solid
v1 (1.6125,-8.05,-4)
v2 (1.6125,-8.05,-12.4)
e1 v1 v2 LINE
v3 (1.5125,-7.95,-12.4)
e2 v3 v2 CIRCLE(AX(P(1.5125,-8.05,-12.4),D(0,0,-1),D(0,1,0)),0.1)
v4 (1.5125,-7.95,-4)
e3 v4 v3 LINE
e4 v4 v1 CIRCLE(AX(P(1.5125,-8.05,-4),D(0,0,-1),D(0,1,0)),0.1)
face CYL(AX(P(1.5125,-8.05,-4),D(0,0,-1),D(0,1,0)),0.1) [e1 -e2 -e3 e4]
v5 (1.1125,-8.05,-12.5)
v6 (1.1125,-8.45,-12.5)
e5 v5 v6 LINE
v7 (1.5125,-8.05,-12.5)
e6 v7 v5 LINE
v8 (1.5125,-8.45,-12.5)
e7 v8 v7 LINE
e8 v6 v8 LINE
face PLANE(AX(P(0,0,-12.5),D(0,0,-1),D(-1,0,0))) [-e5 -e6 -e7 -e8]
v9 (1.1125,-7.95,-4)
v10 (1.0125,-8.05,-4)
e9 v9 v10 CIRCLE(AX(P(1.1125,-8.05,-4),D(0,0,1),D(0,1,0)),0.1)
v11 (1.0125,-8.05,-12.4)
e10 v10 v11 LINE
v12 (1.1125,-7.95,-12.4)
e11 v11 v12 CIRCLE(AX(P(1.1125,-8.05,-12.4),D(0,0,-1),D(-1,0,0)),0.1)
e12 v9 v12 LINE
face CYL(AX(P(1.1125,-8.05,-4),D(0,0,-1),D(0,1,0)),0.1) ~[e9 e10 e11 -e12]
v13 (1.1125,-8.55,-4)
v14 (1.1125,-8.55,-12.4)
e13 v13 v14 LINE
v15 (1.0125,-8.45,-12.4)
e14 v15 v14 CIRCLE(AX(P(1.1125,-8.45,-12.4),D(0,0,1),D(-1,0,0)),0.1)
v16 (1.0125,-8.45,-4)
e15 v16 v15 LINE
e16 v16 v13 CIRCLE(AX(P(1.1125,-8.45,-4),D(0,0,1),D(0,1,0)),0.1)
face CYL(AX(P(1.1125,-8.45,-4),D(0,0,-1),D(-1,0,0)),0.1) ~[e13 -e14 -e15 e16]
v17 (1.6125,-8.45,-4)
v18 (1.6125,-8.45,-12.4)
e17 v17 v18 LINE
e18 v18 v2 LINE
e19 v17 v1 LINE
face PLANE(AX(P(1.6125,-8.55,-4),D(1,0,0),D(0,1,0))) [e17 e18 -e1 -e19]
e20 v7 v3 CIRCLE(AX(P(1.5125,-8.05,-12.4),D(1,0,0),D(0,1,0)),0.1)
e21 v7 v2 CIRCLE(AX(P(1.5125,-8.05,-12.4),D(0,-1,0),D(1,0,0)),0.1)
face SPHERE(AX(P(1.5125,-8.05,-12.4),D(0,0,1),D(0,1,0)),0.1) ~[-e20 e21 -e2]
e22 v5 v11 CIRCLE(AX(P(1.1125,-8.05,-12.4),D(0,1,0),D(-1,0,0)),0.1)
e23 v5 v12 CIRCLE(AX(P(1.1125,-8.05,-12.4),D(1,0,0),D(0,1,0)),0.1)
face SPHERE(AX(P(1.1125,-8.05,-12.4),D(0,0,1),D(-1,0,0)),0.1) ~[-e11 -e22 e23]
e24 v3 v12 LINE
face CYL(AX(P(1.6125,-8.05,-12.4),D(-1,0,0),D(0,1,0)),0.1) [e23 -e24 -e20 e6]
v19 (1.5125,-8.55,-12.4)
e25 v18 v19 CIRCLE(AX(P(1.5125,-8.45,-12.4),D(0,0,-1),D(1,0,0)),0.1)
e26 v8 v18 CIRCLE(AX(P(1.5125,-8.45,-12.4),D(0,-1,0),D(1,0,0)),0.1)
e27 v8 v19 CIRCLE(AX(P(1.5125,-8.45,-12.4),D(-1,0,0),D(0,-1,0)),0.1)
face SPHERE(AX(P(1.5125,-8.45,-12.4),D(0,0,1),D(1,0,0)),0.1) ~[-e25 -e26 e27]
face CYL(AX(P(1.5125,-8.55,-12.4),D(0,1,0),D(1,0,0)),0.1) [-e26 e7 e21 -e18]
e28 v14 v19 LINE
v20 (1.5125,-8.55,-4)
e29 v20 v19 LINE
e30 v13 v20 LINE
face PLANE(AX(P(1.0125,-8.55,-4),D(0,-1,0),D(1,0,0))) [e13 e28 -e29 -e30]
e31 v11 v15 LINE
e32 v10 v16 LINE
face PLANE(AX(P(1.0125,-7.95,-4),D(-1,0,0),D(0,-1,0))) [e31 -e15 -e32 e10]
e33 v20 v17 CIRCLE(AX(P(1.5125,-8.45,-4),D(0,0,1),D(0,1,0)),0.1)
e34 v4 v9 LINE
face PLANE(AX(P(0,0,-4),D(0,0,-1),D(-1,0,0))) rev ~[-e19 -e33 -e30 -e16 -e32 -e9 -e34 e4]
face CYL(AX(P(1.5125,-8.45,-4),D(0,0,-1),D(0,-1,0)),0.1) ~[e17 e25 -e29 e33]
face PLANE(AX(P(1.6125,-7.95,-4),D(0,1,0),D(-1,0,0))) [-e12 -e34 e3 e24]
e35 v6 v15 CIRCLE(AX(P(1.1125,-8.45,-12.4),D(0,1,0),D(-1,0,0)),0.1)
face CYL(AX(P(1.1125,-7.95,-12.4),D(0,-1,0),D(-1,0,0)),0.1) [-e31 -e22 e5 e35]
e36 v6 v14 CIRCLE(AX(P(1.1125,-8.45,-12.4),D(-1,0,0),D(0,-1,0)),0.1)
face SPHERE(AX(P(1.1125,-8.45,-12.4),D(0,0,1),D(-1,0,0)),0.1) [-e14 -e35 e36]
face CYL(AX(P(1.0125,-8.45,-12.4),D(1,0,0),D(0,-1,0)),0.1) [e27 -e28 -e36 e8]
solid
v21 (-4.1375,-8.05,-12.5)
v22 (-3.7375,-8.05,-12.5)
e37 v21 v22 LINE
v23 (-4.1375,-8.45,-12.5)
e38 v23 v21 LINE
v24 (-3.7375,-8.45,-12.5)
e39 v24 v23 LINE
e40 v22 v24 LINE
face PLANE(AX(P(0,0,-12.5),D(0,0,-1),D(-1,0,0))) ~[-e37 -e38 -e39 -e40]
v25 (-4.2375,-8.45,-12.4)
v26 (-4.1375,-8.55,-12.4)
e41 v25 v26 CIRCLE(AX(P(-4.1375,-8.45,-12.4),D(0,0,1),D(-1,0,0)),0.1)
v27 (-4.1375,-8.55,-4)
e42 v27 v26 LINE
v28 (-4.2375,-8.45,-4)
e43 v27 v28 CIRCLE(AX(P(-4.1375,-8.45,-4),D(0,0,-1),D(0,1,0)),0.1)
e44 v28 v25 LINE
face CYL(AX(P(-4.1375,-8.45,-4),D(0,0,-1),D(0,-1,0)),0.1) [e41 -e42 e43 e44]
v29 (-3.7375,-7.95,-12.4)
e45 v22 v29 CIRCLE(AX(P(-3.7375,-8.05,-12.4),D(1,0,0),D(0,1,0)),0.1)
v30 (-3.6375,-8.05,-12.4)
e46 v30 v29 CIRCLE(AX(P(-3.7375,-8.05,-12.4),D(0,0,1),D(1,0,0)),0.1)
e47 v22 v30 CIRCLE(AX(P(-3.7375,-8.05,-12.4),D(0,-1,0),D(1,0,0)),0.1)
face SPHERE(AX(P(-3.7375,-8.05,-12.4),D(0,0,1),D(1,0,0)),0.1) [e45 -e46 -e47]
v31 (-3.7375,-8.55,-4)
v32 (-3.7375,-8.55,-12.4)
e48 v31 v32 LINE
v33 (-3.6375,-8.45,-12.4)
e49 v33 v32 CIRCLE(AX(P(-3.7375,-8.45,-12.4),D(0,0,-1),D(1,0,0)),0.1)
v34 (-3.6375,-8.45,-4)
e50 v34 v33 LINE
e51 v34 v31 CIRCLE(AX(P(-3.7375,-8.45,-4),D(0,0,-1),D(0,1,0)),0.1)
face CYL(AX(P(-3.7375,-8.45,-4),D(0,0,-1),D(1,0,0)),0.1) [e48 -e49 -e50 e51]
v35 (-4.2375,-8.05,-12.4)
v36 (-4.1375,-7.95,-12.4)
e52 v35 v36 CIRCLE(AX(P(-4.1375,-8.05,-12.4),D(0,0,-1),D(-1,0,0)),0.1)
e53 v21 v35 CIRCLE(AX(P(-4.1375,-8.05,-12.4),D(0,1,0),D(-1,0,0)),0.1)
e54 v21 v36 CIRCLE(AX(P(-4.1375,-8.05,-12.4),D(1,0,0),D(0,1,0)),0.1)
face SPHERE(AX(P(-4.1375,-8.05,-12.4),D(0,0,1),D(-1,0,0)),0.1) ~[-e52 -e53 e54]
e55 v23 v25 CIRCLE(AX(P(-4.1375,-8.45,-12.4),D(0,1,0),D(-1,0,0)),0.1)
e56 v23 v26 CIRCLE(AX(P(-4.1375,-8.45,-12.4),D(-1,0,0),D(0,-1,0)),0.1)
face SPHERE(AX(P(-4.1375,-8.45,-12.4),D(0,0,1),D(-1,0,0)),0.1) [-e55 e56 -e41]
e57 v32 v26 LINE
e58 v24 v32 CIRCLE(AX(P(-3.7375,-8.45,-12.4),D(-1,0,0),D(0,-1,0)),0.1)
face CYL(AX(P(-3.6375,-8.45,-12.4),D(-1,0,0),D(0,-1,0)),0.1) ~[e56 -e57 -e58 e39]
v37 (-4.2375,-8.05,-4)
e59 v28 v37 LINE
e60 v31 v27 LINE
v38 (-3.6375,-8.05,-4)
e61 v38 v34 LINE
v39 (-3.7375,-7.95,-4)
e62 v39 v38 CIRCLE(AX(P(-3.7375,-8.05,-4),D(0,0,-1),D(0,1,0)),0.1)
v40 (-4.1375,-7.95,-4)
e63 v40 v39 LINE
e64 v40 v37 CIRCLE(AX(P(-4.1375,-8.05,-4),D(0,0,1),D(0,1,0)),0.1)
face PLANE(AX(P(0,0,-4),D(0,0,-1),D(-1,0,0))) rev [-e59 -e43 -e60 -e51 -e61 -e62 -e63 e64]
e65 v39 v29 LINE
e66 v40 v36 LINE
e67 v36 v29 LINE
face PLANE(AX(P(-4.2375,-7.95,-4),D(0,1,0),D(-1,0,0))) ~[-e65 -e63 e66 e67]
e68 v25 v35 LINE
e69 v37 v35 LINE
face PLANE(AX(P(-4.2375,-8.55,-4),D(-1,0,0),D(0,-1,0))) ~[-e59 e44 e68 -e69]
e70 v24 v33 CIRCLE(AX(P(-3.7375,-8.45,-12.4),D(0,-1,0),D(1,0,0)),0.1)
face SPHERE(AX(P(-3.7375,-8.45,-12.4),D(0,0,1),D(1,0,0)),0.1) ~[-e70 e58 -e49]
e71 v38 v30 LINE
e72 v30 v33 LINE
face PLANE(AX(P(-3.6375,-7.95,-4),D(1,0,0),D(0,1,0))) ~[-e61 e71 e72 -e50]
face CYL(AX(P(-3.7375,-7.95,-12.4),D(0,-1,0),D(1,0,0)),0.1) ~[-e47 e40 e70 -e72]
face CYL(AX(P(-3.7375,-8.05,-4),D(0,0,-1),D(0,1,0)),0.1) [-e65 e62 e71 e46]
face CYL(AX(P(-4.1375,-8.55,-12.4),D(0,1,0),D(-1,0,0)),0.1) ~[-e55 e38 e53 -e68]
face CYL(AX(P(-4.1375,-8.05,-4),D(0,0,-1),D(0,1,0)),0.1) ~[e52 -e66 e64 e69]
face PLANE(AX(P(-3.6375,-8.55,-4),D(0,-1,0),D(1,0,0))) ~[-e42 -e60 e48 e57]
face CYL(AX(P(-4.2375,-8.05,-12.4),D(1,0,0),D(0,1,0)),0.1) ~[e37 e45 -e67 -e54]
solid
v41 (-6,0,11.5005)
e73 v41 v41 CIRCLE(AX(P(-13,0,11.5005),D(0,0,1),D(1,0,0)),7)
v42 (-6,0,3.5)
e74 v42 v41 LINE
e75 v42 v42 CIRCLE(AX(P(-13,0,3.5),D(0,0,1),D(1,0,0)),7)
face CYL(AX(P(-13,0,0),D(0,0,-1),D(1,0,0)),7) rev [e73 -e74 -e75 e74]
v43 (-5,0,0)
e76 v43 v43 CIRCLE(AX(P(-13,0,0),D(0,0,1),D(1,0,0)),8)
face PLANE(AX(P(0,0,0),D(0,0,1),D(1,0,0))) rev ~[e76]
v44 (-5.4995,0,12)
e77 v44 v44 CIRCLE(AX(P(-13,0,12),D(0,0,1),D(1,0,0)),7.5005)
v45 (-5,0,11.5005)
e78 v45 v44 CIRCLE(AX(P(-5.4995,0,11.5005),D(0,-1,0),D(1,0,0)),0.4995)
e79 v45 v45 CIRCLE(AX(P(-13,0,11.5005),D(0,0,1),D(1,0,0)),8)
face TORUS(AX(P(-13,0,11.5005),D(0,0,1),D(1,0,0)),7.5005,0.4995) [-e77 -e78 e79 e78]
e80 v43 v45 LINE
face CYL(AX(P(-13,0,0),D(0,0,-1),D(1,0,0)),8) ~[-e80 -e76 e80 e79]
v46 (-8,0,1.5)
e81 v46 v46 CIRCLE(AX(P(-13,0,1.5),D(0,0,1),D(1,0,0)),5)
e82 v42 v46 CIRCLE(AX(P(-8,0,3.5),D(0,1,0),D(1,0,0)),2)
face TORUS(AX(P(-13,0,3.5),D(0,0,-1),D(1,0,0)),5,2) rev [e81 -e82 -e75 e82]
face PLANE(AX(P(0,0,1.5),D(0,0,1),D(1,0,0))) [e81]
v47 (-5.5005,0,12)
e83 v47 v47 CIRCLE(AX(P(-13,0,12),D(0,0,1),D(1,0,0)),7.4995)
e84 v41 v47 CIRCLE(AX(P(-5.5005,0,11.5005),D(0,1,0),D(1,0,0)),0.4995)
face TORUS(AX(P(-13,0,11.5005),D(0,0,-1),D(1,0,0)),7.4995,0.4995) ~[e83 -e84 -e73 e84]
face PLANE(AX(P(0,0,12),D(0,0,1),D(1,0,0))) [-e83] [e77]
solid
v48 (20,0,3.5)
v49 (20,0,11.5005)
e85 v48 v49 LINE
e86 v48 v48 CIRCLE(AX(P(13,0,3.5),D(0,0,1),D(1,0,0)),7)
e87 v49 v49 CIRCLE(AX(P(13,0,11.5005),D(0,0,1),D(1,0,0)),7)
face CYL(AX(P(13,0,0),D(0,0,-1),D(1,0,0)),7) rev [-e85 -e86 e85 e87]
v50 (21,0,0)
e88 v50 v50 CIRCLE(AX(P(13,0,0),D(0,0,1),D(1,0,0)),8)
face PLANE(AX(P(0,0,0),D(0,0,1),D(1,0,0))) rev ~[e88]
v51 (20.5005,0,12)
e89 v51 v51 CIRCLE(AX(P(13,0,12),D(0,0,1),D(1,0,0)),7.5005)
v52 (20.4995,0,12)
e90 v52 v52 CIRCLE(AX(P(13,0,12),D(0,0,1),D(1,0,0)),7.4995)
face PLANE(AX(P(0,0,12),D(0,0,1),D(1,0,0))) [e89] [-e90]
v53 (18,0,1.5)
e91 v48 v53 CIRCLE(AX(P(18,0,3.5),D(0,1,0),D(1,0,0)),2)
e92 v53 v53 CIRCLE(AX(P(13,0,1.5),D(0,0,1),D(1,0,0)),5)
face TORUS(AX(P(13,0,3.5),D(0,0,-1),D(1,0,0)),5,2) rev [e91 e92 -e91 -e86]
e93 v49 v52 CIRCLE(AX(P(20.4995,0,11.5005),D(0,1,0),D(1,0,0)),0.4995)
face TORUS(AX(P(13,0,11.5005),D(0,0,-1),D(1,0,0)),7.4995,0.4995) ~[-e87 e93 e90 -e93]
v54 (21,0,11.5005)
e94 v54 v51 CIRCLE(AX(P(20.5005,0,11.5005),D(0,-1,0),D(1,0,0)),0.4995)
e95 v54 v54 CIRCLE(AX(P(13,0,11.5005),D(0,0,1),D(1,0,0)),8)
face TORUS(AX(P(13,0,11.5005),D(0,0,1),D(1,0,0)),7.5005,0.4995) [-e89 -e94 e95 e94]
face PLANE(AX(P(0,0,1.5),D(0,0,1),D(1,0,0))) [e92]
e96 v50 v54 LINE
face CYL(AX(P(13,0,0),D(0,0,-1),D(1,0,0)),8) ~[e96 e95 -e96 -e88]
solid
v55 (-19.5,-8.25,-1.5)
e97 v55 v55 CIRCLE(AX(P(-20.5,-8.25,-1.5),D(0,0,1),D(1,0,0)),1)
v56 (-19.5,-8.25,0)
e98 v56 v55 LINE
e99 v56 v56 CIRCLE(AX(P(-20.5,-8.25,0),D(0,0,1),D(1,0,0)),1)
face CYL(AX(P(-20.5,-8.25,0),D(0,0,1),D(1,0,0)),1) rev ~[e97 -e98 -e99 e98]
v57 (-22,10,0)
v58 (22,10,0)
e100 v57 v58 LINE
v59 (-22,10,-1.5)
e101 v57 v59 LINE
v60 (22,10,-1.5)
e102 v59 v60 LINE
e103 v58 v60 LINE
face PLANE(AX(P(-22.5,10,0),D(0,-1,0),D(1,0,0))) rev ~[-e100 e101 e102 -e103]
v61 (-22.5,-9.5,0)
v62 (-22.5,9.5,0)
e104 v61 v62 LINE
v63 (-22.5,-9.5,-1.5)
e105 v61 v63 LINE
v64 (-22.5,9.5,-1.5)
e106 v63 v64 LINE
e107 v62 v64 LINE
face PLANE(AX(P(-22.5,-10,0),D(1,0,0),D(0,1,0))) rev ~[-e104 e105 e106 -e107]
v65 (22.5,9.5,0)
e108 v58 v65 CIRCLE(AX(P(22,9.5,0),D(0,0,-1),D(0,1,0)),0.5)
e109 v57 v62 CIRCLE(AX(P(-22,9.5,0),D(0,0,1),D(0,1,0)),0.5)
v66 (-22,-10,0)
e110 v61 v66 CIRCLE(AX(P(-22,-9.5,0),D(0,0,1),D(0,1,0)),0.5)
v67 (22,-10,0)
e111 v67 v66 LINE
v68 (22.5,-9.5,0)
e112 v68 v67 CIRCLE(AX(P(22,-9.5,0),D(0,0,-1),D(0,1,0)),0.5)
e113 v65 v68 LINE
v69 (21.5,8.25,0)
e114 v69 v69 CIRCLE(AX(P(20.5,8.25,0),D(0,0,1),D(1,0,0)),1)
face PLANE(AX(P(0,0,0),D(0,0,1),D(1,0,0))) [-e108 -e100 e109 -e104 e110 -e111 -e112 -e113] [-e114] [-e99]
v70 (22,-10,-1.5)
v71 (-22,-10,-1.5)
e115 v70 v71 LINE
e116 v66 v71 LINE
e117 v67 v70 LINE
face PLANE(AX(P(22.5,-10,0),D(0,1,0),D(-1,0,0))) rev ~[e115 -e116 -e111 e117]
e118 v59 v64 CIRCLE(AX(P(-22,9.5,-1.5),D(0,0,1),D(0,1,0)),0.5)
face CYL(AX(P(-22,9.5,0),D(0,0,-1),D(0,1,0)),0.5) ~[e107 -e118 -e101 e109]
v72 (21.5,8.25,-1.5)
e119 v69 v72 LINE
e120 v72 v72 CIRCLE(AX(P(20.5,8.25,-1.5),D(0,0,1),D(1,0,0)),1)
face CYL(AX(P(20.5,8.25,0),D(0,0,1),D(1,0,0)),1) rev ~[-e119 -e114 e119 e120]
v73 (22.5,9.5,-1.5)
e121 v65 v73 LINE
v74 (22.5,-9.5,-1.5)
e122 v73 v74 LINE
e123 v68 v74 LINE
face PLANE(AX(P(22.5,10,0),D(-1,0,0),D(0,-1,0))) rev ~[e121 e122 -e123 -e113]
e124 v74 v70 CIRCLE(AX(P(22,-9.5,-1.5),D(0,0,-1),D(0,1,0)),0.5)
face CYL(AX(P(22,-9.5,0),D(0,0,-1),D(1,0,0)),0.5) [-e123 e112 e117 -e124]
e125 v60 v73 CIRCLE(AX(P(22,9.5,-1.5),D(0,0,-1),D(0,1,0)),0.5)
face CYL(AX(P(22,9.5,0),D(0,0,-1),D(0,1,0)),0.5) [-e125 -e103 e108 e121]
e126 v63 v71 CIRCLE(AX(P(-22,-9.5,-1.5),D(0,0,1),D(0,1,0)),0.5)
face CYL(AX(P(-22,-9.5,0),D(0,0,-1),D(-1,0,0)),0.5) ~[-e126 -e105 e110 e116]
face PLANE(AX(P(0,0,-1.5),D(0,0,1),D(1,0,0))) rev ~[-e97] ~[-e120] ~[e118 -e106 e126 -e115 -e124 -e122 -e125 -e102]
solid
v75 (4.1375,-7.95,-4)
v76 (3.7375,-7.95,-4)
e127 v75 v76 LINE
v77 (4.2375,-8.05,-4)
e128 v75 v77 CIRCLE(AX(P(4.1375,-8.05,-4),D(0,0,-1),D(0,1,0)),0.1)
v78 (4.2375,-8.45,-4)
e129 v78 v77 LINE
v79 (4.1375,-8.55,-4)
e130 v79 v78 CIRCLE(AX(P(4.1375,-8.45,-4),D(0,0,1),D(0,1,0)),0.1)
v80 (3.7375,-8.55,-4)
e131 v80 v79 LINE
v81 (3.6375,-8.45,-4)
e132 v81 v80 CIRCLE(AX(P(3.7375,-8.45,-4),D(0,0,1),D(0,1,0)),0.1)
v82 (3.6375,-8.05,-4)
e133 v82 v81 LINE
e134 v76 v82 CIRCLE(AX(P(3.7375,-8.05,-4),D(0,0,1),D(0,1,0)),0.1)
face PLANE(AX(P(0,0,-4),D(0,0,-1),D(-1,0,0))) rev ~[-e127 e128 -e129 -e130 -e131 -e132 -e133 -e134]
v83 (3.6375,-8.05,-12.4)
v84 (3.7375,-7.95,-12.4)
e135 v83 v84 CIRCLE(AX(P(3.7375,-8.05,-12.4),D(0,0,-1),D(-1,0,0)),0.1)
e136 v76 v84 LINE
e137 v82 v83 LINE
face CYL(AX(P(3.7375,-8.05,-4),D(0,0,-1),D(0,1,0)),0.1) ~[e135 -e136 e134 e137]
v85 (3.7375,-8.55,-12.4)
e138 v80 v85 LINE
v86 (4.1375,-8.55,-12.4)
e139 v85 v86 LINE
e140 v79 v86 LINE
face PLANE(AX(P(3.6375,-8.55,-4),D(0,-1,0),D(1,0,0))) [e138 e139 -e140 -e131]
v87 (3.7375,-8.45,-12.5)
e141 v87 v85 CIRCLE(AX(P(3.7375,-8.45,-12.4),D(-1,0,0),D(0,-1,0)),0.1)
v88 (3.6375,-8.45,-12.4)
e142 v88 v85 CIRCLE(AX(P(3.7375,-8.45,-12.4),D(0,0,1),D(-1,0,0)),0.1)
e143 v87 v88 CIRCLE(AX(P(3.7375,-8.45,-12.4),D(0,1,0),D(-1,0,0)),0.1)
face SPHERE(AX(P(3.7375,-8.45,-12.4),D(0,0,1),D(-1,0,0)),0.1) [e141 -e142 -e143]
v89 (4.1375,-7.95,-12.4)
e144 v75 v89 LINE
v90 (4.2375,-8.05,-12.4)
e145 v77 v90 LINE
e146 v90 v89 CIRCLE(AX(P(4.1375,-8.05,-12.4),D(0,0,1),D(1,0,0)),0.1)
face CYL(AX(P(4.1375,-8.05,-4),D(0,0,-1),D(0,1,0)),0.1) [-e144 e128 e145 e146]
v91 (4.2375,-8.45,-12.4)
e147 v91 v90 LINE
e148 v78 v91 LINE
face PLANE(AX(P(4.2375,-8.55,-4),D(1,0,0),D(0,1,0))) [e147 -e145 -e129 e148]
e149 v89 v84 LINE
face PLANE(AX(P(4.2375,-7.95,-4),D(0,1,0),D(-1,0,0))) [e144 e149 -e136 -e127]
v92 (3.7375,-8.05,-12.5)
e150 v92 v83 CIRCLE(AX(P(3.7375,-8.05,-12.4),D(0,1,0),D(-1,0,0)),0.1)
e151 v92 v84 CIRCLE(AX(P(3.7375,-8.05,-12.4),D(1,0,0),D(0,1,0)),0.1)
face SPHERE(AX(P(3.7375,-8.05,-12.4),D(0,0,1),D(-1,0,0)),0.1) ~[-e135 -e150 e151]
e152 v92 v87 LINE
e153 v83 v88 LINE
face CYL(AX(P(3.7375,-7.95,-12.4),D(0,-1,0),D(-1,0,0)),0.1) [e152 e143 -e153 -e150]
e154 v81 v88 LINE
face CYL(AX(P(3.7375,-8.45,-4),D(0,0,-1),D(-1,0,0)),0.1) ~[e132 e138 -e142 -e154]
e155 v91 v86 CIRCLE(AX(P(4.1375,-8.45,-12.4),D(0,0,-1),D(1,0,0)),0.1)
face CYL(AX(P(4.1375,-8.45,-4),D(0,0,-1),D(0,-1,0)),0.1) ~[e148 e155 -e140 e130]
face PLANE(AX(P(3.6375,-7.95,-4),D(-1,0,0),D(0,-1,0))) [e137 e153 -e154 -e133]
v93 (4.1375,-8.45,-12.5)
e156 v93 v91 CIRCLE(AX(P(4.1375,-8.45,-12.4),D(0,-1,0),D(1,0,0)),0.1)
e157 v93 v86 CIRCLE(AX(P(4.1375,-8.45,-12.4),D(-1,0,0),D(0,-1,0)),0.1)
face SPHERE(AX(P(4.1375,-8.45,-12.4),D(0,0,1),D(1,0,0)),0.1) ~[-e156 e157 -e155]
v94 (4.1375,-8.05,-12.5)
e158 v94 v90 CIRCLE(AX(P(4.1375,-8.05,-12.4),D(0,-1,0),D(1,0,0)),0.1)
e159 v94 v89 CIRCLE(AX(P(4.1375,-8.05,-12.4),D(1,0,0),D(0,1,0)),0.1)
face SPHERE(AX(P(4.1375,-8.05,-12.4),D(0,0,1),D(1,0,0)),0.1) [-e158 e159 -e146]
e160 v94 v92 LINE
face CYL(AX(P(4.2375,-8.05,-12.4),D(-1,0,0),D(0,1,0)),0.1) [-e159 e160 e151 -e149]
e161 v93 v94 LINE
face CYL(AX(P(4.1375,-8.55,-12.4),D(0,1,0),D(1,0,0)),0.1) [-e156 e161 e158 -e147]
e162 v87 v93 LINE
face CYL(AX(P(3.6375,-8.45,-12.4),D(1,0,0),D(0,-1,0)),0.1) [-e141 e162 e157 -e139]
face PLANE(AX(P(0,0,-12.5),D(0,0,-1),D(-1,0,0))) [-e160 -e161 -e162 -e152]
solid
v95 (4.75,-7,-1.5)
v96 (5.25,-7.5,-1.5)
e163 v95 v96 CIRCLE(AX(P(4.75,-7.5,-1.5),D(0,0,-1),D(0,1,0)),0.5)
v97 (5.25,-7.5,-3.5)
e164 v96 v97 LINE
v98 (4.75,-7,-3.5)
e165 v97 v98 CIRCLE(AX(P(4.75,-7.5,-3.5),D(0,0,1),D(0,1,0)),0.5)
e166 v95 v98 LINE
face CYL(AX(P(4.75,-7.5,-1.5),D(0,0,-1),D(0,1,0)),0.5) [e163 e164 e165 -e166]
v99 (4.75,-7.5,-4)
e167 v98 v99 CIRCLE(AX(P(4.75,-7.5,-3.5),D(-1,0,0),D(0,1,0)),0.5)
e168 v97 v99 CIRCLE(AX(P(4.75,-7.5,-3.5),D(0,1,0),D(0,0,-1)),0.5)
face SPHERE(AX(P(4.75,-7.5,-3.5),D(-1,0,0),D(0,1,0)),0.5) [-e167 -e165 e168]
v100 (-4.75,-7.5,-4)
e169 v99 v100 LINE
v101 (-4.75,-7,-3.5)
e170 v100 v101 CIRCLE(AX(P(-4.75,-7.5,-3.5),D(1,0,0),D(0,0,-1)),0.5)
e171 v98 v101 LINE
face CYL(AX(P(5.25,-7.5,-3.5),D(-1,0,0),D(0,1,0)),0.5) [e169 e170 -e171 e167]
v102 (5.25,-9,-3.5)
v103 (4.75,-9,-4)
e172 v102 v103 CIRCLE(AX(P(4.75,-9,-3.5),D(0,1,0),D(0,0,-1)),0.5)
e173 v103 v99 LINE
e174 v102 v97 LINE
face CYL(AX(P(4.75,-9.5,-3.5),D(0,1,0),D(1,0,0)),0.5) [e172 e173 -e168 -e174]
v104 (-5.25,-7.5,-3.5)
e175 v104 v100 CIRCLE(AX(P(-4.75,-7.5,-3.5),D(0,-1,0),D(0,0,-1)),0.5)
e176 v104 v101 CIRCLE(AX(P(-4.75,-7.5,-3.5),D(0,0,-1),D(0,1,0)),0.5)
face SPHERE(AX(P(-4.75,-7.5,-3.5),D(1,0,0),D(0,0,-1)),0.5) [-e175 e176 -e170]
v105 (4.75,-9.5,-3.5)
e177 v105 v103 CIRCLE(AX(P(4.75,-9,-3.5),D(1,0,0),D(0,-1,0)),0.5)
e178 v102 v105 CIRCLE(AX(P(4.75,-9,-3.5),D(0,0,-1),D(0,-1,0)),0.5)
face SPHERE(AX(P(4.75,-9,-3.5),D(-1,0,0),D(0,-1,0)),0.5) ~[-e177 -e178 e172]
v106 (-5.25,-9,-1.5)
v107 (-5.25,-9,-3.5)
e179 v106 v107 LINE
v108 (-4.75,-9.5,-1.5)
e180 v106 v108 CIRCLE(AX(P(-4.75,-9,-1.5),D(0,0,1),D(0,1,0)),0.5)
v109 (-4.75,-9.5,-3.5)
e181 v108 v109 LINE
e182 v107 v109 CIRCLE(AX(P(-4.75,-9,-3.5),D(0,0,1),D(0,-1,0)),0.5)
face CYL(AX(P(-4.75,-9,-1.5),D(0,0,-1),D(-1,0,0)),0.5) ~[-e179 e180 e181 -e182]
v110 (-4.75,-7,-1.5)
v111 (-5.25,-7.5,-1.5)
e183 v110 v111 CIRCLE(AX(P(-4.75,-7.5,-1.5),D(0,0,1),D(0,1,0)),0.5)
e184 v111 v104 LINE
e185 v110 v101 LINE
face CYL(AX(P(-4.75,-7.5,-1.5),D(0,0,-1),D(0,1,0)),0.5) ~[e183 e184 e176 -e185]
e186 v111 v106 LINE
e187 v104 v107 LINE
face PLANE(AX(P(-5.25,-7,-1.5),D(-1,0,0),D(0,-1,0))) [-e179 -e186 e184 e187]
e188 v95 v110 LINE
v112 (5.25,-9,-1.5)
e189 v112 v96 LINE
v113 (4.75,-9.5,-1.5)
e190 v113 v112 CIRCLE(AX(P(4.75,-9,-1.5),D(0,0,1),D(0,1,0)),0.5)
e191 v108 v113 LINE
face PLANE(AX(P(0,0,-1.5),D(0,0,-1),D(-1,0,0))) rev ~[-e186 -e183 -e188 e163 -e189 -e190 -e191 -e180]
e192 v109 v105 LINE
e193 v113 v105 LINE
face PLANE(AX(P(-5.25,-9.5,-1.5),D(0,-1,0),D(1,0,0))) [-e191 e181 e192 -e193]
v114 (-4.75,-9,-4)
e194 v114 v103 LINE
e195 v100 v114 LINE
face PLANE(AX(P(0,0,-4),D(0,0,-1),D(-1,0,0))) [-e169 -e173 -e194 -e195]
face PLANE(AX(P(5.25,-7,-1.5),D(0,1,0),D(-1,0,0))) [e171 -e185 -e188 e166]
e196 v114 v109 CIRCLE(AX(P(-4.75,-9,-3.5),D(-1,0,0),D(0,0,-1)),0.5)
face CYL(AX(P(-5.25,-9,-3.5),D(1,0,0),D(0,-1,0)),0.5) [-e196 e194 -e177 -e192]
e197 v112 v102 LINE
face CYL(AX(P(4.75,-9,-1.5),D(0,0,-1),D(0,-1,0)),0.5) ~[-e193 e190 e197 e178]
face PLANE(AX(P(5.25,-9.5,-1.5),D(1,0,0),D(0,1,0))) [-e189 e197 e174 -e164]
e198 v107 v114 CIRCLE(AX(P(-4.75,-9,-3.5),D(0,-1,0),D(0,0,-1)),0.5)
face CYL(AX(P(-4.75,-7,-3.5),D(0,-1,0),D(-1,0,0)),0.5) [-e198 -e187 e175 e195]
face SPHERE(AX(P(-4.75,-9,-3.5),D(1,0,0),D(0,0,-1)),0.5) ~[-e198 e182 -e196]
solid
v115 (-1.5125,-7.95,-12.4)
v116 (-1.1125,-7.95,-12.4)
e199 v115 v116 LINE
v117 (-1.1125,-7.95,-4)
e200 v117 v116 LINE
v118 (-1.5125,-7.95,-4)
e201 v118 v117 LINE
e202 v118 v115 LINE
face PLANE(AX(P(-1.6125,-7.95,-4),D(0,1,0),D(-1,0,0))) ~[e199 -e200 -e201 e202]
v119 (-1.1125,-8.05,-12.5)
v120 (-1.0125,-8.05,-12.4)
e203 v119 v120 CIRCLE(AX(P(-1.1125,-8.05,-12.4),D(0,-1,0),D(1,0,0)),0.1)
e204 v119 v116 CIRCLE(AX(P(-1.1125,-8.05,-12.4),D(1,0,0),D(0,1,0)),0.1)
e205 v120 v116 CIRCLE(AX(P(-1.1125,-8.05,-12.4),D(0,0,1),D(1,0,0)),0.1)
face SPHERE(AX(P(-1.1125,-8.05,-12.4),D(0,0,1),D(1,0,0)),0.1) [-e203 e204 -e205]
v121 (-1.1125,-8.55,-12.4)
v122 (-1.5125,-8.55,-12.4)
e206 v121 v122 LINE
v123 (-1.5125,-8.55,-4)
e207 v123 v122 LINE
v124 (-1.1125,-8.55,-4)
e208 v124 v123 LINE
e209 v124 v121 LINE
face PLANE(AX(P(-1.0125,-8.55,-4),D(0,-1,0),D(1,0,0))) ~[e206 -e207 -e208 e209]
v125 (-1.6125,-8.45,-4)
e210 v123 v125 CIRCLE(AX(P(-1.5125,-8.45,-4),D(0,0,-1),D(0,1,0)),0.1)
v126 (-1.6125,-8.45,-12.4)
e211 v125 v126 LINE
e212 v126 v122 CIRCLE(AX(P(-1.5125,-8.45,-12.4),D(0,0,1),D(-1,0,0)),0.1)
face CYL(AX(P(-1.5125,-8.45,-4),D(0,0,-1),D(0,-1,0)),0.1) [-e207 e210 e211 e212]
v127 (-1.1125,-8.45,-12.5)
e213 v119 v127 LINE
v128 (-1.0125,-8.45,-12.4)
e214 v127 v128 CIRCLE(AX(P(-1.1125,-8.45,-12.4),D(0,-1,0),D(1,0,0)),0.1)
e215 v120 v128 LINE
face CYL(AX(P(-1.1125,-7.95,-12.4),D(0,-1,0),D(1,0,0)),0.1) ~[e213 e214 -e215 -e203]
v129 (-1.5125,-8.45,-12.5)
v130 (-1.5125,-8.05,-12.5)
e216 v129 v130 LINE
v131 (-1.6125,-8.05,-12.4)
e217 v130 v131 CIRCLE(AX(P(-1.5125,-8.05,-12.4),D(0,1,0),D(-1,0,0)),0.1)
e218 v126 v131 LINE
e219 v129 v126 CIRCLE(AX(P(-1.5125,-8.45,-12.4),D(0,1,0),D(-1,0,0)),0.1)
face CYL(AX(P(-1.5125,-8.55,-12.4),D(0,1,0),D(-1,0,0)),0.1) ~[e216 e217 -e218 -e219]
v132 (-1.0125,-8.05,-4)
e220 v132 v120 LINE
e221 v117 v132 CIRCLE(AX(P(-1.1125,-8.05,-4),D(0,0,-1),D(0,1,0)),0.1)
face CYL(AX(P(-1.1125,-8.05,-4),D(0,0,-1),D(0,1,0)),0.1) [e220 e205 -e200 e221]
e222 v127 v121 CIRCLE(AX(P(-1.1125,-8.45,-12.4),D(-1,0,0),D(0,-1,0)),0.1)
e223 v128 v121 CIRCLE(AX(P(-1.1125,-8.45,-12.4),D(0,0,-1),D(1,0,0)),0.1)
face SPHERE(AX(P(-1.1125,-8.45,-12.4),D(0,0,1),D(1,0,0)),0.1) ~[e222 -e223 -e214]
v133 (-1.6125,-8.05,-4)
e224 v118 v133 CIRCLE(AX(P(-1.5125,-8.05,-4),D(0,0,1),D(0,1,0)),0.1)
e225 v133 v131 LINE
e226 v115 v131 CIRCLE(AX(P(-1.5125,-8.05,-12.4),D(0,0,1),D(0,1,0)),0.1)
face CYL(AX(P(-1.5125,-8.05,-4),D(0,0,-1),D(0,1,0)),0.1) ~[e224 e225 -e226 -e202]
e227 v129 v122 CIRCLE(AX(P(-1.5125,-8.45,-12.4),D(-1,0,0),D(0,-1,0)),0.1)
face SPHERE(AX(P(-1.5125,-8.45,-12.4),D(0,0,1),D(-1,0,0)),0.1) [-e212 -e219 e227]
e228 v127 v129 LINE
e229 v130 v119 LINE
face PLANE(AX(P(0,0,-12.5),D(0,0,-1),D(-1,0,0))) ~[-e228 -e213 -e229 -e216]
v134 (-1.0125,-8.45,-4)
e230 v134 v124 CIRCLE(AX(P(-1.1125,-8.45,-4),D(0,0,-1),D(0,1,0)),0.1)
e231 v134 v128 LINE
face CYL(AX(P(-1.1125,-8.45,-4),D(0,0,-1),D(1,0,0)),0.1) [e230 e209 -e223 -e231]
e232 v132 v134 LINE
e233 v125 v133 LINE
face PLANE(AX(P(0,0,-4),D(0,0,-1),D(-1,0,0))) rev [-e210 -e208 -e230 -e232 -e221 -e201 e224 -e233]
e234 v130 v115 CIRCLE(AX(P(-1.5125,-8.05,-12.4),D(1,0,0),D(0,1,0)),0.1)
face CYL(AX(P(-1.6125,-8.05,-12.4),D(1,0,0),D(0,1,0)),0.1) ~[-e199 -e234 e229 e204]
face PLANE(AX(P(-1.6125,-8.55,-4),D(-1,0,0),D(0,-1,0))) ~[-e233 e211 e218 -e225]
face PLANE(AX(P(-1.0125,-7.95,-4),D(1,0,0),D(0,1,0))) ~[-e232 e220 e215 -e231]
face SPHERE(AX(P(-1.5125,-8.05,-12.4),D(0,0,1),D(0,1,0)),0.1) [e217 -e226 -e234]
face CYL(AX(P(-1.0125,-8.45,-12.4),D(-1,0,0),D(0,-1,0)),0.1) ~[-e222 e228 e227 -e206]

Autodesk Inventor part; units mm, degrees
ref_plane "YZ Plane" through (0, 0, 0) normal (1, 0, 0) x (0, 1, 0)
ref_plane "XZ Plane" through (0, 0, 0) normal (0, 1, 0) x (-1, 0, 0)
ref_plane "XY Plane" through (0, 0, 0) normal (0, 0, 1) x (1, 0, 0)
sketch "Boceto1" plane through (0, 0, 0) normal (0, 0, 1) x (1, 0, 0)
  line L0 (-22.5, 10) -> (22.5, 10)
  line L1 (22.5, 10) -> (22.5, -10)
  line L2 (22.5, -10) -> (-22.5, -10)
  line L3 (-22.5, -10) -> (-22.5, 10)
  line L4 (-22.5, 0) -> (22.5, 0) construction
  circle A0 centre (-13, 0) radius 8
  circle A1 centre (13, 0) radius 8
  circle A2 centre (-20.5, -8.25) radius 1
  circle A3 centre (20.5, 8.25) radius 1
  circle A4 centre (-13, 0) radius 7
  circle A5 centre (13, 0) radius 7
  point P0 (0, 0)
  point P1 (0, 0)
  dimension "d0" = 45
  dimension "d1" = 20
  dimension "d2" = 16
  dimension "d3" = 13
  dimension "d4" = 13
  dimension "d5" = 2
  dimension "d6" = 20.5
  dimension "d7" = 8.25
  dimension "d8" = 8.25
  dimension "d9" = 20.5
  dimension "d14" = 1
extrude "Extrusión1" add sketch "Boceto1" along normal blind 12 contours A0 | A1
extrude "Extrusión2" add sketch "Boceto1" against normal blind 1.5 separate body contours L0 L1 L2 L3 | A0 | A1 | A4 | A5
fillet "Empalme2" radius 0.5 4 edges at (-21, 0, 12) (-20, 0, 12) (5, 0, 12) (6, 0, 12)
extrude "Extrusión3" add sketch "Boceto1" along normal blind 1.5 contours A4 | A5 bodies 1
fillet "Empalme3" radius 2 2 edges at (-20, 0, 1.5) (6, 0, 1.5)
fillet "Empalme4" radius 0.5 4 edges at (-22.5, 10, -0.75) (-22.5, -10, -0.75) (22.5, -10, -0.75) (22.5, 10, -0.75)
sketch "Boceto2" plane through (0, 0, -1.5) normal (0, 0, -1) x (-1, 0, 0)
  line L0 (-5.25, -7) -> (5.25, -7)
  line L1 (5.25, -7) -> (5.25, -9.5)
  line L2 (5.25, -9.5) -> (-5.25, -9.5)
  line L3 (-5.25, -9.5) -> (-5.25, -7)
  line L4 (0, 0) -> (0, -7) construction
  arc A0 (-22, 10) -> (-22.5, 9.5) centre (-22, 9.5) ccw construction
  line L5 (-22.5, 9.5) -> (-22.5, -9.5) construction
  arc A1 (-22.5, -9.5) -> (-22, -10) centre (-22, -9.5) ccw construction
  line L6 (-22, -10) -> (22, -10) construction
  arc A2 (22, -10) -> (22.5, -9.5) centre (22, -9.5) ccw construction
  line L7 (22.5, -9.5) -> (22.5, 9.5) construction
  arc A3 (22.5, 9.5) -> (22, 10) centre (22, 9.5) ccw construction
  line L8 (22, 10) -> (-22, 10) construction
  circle A4 centre (-20.5, 8.25) radius 1 construction
  circle A5 centre (20.5, -8.25) radius 1 construction
  dimension "d21" = 10.5
  dimension "d22" = 2.5
  dimension "d23" = 0.5
extrude "Extrusión4" add sketch "Boceto2" along normal blind 2.5 separate body
sketch "Boceto3" plane through (0, 0, -4) normal (0, 0, -1) x (-1, 0, 0)
  line L0 (-5.25, -9.5) -> (5.25, -9.5) construction
  line L1 (5.25, -9.5) -> (5.25, -7) construction
  line L2 (5.25, -7) -> (-5.25, -7) construction
  line L3 (-5.25, -7) -> (-5.25, -9.5) construction
  line L4 (-4.2375, -7.95) -> (-3.6375, -7.95)
  line L5 (-3.6375, -7.95) -> (-3.6375, -8.55)
  line L6 (-3.6375, -8.55) -> (-4.2375, -8.55)
  line L7 (-4.2375, -8.55) -> (-4.2375, -7.95)
  line L8 (-5.25, -8.25) -> (5.25, -8.25) construction
  line L9 (-3.9375, -8.55) -> (-3.9375, -7.95) construction
  line L10 (-1.6125, -7.95) -> (-1.0125, -7.95)
  line L11 (-1.0125, -7.95) -> (-1.0125, -8.55)
  line L12 (-1.0125, -8.55) -> (-1.6125, -8.55)
  line L13 (-1.6125, -8.55) -> (-1.6125, -7.95)
  line L14 (-1.3125, -8.55) -> (-1.3125, -7.95) construction
  point P0 (0, 0)
  point P1 (-4.2375, -8.25)
  point P2 (-1.6125, -8.25)
  dimension "d26" = 0.6
  dimension "d27" = 10.5
  dimension "d28" = 1.3125
  dimension "d30" = 2.625
extrude "Extrusión5" add sketch "Boceto3" along normal blind 8.5 separate body
fillet "Empalme5" radius 0.1 16 edges at (4.2375, -7.95, -8.25) (3.6375, -7.95, -8.25) (3.6375, -8.55, -8.25) (4.2375, -8.55, -8.25) (4.2375, -8.25, -12.5) (3.6375, -8.25, -12.5) (3.9375, -7.95, -12.5) (3.9375, -8.55, -12.5) (1.6125, -7.95, -8.25) (1.6125, -8.55, -8.25) (1.0125, -7.95, -8.25) (1.0125, -8.55, -8.25) (1.0125, -8.25, -12.5) (1.3125, -7.95, -12.5) (1.6125, -8.25, -12.5) (1.3125, -8.55, -12.5)
fillet "Empalme6" radius 0.5 8 edges at (0, -7, -4) (0, -9.5, -4) (-5.25, -8.25, -4) (-5.25, -7, -2.75) (-5.25, -9.5, -2.75) (5.25, -9.5, -2.75) (5.25, -7, -2.75) (5.25, -8.25, -4)
mirror "Simetría1" about plane through (0, 0, 0) normal (1, 0, 0) bodies 4
equation "\"d4\" = d3"
equation "\"d8\" = d7"
equation "\"d9\" = d6"
equation "\"d28\" = 0.125 * d27"
equation "\"d30\" = 2 * d28"
properties part number "US"
